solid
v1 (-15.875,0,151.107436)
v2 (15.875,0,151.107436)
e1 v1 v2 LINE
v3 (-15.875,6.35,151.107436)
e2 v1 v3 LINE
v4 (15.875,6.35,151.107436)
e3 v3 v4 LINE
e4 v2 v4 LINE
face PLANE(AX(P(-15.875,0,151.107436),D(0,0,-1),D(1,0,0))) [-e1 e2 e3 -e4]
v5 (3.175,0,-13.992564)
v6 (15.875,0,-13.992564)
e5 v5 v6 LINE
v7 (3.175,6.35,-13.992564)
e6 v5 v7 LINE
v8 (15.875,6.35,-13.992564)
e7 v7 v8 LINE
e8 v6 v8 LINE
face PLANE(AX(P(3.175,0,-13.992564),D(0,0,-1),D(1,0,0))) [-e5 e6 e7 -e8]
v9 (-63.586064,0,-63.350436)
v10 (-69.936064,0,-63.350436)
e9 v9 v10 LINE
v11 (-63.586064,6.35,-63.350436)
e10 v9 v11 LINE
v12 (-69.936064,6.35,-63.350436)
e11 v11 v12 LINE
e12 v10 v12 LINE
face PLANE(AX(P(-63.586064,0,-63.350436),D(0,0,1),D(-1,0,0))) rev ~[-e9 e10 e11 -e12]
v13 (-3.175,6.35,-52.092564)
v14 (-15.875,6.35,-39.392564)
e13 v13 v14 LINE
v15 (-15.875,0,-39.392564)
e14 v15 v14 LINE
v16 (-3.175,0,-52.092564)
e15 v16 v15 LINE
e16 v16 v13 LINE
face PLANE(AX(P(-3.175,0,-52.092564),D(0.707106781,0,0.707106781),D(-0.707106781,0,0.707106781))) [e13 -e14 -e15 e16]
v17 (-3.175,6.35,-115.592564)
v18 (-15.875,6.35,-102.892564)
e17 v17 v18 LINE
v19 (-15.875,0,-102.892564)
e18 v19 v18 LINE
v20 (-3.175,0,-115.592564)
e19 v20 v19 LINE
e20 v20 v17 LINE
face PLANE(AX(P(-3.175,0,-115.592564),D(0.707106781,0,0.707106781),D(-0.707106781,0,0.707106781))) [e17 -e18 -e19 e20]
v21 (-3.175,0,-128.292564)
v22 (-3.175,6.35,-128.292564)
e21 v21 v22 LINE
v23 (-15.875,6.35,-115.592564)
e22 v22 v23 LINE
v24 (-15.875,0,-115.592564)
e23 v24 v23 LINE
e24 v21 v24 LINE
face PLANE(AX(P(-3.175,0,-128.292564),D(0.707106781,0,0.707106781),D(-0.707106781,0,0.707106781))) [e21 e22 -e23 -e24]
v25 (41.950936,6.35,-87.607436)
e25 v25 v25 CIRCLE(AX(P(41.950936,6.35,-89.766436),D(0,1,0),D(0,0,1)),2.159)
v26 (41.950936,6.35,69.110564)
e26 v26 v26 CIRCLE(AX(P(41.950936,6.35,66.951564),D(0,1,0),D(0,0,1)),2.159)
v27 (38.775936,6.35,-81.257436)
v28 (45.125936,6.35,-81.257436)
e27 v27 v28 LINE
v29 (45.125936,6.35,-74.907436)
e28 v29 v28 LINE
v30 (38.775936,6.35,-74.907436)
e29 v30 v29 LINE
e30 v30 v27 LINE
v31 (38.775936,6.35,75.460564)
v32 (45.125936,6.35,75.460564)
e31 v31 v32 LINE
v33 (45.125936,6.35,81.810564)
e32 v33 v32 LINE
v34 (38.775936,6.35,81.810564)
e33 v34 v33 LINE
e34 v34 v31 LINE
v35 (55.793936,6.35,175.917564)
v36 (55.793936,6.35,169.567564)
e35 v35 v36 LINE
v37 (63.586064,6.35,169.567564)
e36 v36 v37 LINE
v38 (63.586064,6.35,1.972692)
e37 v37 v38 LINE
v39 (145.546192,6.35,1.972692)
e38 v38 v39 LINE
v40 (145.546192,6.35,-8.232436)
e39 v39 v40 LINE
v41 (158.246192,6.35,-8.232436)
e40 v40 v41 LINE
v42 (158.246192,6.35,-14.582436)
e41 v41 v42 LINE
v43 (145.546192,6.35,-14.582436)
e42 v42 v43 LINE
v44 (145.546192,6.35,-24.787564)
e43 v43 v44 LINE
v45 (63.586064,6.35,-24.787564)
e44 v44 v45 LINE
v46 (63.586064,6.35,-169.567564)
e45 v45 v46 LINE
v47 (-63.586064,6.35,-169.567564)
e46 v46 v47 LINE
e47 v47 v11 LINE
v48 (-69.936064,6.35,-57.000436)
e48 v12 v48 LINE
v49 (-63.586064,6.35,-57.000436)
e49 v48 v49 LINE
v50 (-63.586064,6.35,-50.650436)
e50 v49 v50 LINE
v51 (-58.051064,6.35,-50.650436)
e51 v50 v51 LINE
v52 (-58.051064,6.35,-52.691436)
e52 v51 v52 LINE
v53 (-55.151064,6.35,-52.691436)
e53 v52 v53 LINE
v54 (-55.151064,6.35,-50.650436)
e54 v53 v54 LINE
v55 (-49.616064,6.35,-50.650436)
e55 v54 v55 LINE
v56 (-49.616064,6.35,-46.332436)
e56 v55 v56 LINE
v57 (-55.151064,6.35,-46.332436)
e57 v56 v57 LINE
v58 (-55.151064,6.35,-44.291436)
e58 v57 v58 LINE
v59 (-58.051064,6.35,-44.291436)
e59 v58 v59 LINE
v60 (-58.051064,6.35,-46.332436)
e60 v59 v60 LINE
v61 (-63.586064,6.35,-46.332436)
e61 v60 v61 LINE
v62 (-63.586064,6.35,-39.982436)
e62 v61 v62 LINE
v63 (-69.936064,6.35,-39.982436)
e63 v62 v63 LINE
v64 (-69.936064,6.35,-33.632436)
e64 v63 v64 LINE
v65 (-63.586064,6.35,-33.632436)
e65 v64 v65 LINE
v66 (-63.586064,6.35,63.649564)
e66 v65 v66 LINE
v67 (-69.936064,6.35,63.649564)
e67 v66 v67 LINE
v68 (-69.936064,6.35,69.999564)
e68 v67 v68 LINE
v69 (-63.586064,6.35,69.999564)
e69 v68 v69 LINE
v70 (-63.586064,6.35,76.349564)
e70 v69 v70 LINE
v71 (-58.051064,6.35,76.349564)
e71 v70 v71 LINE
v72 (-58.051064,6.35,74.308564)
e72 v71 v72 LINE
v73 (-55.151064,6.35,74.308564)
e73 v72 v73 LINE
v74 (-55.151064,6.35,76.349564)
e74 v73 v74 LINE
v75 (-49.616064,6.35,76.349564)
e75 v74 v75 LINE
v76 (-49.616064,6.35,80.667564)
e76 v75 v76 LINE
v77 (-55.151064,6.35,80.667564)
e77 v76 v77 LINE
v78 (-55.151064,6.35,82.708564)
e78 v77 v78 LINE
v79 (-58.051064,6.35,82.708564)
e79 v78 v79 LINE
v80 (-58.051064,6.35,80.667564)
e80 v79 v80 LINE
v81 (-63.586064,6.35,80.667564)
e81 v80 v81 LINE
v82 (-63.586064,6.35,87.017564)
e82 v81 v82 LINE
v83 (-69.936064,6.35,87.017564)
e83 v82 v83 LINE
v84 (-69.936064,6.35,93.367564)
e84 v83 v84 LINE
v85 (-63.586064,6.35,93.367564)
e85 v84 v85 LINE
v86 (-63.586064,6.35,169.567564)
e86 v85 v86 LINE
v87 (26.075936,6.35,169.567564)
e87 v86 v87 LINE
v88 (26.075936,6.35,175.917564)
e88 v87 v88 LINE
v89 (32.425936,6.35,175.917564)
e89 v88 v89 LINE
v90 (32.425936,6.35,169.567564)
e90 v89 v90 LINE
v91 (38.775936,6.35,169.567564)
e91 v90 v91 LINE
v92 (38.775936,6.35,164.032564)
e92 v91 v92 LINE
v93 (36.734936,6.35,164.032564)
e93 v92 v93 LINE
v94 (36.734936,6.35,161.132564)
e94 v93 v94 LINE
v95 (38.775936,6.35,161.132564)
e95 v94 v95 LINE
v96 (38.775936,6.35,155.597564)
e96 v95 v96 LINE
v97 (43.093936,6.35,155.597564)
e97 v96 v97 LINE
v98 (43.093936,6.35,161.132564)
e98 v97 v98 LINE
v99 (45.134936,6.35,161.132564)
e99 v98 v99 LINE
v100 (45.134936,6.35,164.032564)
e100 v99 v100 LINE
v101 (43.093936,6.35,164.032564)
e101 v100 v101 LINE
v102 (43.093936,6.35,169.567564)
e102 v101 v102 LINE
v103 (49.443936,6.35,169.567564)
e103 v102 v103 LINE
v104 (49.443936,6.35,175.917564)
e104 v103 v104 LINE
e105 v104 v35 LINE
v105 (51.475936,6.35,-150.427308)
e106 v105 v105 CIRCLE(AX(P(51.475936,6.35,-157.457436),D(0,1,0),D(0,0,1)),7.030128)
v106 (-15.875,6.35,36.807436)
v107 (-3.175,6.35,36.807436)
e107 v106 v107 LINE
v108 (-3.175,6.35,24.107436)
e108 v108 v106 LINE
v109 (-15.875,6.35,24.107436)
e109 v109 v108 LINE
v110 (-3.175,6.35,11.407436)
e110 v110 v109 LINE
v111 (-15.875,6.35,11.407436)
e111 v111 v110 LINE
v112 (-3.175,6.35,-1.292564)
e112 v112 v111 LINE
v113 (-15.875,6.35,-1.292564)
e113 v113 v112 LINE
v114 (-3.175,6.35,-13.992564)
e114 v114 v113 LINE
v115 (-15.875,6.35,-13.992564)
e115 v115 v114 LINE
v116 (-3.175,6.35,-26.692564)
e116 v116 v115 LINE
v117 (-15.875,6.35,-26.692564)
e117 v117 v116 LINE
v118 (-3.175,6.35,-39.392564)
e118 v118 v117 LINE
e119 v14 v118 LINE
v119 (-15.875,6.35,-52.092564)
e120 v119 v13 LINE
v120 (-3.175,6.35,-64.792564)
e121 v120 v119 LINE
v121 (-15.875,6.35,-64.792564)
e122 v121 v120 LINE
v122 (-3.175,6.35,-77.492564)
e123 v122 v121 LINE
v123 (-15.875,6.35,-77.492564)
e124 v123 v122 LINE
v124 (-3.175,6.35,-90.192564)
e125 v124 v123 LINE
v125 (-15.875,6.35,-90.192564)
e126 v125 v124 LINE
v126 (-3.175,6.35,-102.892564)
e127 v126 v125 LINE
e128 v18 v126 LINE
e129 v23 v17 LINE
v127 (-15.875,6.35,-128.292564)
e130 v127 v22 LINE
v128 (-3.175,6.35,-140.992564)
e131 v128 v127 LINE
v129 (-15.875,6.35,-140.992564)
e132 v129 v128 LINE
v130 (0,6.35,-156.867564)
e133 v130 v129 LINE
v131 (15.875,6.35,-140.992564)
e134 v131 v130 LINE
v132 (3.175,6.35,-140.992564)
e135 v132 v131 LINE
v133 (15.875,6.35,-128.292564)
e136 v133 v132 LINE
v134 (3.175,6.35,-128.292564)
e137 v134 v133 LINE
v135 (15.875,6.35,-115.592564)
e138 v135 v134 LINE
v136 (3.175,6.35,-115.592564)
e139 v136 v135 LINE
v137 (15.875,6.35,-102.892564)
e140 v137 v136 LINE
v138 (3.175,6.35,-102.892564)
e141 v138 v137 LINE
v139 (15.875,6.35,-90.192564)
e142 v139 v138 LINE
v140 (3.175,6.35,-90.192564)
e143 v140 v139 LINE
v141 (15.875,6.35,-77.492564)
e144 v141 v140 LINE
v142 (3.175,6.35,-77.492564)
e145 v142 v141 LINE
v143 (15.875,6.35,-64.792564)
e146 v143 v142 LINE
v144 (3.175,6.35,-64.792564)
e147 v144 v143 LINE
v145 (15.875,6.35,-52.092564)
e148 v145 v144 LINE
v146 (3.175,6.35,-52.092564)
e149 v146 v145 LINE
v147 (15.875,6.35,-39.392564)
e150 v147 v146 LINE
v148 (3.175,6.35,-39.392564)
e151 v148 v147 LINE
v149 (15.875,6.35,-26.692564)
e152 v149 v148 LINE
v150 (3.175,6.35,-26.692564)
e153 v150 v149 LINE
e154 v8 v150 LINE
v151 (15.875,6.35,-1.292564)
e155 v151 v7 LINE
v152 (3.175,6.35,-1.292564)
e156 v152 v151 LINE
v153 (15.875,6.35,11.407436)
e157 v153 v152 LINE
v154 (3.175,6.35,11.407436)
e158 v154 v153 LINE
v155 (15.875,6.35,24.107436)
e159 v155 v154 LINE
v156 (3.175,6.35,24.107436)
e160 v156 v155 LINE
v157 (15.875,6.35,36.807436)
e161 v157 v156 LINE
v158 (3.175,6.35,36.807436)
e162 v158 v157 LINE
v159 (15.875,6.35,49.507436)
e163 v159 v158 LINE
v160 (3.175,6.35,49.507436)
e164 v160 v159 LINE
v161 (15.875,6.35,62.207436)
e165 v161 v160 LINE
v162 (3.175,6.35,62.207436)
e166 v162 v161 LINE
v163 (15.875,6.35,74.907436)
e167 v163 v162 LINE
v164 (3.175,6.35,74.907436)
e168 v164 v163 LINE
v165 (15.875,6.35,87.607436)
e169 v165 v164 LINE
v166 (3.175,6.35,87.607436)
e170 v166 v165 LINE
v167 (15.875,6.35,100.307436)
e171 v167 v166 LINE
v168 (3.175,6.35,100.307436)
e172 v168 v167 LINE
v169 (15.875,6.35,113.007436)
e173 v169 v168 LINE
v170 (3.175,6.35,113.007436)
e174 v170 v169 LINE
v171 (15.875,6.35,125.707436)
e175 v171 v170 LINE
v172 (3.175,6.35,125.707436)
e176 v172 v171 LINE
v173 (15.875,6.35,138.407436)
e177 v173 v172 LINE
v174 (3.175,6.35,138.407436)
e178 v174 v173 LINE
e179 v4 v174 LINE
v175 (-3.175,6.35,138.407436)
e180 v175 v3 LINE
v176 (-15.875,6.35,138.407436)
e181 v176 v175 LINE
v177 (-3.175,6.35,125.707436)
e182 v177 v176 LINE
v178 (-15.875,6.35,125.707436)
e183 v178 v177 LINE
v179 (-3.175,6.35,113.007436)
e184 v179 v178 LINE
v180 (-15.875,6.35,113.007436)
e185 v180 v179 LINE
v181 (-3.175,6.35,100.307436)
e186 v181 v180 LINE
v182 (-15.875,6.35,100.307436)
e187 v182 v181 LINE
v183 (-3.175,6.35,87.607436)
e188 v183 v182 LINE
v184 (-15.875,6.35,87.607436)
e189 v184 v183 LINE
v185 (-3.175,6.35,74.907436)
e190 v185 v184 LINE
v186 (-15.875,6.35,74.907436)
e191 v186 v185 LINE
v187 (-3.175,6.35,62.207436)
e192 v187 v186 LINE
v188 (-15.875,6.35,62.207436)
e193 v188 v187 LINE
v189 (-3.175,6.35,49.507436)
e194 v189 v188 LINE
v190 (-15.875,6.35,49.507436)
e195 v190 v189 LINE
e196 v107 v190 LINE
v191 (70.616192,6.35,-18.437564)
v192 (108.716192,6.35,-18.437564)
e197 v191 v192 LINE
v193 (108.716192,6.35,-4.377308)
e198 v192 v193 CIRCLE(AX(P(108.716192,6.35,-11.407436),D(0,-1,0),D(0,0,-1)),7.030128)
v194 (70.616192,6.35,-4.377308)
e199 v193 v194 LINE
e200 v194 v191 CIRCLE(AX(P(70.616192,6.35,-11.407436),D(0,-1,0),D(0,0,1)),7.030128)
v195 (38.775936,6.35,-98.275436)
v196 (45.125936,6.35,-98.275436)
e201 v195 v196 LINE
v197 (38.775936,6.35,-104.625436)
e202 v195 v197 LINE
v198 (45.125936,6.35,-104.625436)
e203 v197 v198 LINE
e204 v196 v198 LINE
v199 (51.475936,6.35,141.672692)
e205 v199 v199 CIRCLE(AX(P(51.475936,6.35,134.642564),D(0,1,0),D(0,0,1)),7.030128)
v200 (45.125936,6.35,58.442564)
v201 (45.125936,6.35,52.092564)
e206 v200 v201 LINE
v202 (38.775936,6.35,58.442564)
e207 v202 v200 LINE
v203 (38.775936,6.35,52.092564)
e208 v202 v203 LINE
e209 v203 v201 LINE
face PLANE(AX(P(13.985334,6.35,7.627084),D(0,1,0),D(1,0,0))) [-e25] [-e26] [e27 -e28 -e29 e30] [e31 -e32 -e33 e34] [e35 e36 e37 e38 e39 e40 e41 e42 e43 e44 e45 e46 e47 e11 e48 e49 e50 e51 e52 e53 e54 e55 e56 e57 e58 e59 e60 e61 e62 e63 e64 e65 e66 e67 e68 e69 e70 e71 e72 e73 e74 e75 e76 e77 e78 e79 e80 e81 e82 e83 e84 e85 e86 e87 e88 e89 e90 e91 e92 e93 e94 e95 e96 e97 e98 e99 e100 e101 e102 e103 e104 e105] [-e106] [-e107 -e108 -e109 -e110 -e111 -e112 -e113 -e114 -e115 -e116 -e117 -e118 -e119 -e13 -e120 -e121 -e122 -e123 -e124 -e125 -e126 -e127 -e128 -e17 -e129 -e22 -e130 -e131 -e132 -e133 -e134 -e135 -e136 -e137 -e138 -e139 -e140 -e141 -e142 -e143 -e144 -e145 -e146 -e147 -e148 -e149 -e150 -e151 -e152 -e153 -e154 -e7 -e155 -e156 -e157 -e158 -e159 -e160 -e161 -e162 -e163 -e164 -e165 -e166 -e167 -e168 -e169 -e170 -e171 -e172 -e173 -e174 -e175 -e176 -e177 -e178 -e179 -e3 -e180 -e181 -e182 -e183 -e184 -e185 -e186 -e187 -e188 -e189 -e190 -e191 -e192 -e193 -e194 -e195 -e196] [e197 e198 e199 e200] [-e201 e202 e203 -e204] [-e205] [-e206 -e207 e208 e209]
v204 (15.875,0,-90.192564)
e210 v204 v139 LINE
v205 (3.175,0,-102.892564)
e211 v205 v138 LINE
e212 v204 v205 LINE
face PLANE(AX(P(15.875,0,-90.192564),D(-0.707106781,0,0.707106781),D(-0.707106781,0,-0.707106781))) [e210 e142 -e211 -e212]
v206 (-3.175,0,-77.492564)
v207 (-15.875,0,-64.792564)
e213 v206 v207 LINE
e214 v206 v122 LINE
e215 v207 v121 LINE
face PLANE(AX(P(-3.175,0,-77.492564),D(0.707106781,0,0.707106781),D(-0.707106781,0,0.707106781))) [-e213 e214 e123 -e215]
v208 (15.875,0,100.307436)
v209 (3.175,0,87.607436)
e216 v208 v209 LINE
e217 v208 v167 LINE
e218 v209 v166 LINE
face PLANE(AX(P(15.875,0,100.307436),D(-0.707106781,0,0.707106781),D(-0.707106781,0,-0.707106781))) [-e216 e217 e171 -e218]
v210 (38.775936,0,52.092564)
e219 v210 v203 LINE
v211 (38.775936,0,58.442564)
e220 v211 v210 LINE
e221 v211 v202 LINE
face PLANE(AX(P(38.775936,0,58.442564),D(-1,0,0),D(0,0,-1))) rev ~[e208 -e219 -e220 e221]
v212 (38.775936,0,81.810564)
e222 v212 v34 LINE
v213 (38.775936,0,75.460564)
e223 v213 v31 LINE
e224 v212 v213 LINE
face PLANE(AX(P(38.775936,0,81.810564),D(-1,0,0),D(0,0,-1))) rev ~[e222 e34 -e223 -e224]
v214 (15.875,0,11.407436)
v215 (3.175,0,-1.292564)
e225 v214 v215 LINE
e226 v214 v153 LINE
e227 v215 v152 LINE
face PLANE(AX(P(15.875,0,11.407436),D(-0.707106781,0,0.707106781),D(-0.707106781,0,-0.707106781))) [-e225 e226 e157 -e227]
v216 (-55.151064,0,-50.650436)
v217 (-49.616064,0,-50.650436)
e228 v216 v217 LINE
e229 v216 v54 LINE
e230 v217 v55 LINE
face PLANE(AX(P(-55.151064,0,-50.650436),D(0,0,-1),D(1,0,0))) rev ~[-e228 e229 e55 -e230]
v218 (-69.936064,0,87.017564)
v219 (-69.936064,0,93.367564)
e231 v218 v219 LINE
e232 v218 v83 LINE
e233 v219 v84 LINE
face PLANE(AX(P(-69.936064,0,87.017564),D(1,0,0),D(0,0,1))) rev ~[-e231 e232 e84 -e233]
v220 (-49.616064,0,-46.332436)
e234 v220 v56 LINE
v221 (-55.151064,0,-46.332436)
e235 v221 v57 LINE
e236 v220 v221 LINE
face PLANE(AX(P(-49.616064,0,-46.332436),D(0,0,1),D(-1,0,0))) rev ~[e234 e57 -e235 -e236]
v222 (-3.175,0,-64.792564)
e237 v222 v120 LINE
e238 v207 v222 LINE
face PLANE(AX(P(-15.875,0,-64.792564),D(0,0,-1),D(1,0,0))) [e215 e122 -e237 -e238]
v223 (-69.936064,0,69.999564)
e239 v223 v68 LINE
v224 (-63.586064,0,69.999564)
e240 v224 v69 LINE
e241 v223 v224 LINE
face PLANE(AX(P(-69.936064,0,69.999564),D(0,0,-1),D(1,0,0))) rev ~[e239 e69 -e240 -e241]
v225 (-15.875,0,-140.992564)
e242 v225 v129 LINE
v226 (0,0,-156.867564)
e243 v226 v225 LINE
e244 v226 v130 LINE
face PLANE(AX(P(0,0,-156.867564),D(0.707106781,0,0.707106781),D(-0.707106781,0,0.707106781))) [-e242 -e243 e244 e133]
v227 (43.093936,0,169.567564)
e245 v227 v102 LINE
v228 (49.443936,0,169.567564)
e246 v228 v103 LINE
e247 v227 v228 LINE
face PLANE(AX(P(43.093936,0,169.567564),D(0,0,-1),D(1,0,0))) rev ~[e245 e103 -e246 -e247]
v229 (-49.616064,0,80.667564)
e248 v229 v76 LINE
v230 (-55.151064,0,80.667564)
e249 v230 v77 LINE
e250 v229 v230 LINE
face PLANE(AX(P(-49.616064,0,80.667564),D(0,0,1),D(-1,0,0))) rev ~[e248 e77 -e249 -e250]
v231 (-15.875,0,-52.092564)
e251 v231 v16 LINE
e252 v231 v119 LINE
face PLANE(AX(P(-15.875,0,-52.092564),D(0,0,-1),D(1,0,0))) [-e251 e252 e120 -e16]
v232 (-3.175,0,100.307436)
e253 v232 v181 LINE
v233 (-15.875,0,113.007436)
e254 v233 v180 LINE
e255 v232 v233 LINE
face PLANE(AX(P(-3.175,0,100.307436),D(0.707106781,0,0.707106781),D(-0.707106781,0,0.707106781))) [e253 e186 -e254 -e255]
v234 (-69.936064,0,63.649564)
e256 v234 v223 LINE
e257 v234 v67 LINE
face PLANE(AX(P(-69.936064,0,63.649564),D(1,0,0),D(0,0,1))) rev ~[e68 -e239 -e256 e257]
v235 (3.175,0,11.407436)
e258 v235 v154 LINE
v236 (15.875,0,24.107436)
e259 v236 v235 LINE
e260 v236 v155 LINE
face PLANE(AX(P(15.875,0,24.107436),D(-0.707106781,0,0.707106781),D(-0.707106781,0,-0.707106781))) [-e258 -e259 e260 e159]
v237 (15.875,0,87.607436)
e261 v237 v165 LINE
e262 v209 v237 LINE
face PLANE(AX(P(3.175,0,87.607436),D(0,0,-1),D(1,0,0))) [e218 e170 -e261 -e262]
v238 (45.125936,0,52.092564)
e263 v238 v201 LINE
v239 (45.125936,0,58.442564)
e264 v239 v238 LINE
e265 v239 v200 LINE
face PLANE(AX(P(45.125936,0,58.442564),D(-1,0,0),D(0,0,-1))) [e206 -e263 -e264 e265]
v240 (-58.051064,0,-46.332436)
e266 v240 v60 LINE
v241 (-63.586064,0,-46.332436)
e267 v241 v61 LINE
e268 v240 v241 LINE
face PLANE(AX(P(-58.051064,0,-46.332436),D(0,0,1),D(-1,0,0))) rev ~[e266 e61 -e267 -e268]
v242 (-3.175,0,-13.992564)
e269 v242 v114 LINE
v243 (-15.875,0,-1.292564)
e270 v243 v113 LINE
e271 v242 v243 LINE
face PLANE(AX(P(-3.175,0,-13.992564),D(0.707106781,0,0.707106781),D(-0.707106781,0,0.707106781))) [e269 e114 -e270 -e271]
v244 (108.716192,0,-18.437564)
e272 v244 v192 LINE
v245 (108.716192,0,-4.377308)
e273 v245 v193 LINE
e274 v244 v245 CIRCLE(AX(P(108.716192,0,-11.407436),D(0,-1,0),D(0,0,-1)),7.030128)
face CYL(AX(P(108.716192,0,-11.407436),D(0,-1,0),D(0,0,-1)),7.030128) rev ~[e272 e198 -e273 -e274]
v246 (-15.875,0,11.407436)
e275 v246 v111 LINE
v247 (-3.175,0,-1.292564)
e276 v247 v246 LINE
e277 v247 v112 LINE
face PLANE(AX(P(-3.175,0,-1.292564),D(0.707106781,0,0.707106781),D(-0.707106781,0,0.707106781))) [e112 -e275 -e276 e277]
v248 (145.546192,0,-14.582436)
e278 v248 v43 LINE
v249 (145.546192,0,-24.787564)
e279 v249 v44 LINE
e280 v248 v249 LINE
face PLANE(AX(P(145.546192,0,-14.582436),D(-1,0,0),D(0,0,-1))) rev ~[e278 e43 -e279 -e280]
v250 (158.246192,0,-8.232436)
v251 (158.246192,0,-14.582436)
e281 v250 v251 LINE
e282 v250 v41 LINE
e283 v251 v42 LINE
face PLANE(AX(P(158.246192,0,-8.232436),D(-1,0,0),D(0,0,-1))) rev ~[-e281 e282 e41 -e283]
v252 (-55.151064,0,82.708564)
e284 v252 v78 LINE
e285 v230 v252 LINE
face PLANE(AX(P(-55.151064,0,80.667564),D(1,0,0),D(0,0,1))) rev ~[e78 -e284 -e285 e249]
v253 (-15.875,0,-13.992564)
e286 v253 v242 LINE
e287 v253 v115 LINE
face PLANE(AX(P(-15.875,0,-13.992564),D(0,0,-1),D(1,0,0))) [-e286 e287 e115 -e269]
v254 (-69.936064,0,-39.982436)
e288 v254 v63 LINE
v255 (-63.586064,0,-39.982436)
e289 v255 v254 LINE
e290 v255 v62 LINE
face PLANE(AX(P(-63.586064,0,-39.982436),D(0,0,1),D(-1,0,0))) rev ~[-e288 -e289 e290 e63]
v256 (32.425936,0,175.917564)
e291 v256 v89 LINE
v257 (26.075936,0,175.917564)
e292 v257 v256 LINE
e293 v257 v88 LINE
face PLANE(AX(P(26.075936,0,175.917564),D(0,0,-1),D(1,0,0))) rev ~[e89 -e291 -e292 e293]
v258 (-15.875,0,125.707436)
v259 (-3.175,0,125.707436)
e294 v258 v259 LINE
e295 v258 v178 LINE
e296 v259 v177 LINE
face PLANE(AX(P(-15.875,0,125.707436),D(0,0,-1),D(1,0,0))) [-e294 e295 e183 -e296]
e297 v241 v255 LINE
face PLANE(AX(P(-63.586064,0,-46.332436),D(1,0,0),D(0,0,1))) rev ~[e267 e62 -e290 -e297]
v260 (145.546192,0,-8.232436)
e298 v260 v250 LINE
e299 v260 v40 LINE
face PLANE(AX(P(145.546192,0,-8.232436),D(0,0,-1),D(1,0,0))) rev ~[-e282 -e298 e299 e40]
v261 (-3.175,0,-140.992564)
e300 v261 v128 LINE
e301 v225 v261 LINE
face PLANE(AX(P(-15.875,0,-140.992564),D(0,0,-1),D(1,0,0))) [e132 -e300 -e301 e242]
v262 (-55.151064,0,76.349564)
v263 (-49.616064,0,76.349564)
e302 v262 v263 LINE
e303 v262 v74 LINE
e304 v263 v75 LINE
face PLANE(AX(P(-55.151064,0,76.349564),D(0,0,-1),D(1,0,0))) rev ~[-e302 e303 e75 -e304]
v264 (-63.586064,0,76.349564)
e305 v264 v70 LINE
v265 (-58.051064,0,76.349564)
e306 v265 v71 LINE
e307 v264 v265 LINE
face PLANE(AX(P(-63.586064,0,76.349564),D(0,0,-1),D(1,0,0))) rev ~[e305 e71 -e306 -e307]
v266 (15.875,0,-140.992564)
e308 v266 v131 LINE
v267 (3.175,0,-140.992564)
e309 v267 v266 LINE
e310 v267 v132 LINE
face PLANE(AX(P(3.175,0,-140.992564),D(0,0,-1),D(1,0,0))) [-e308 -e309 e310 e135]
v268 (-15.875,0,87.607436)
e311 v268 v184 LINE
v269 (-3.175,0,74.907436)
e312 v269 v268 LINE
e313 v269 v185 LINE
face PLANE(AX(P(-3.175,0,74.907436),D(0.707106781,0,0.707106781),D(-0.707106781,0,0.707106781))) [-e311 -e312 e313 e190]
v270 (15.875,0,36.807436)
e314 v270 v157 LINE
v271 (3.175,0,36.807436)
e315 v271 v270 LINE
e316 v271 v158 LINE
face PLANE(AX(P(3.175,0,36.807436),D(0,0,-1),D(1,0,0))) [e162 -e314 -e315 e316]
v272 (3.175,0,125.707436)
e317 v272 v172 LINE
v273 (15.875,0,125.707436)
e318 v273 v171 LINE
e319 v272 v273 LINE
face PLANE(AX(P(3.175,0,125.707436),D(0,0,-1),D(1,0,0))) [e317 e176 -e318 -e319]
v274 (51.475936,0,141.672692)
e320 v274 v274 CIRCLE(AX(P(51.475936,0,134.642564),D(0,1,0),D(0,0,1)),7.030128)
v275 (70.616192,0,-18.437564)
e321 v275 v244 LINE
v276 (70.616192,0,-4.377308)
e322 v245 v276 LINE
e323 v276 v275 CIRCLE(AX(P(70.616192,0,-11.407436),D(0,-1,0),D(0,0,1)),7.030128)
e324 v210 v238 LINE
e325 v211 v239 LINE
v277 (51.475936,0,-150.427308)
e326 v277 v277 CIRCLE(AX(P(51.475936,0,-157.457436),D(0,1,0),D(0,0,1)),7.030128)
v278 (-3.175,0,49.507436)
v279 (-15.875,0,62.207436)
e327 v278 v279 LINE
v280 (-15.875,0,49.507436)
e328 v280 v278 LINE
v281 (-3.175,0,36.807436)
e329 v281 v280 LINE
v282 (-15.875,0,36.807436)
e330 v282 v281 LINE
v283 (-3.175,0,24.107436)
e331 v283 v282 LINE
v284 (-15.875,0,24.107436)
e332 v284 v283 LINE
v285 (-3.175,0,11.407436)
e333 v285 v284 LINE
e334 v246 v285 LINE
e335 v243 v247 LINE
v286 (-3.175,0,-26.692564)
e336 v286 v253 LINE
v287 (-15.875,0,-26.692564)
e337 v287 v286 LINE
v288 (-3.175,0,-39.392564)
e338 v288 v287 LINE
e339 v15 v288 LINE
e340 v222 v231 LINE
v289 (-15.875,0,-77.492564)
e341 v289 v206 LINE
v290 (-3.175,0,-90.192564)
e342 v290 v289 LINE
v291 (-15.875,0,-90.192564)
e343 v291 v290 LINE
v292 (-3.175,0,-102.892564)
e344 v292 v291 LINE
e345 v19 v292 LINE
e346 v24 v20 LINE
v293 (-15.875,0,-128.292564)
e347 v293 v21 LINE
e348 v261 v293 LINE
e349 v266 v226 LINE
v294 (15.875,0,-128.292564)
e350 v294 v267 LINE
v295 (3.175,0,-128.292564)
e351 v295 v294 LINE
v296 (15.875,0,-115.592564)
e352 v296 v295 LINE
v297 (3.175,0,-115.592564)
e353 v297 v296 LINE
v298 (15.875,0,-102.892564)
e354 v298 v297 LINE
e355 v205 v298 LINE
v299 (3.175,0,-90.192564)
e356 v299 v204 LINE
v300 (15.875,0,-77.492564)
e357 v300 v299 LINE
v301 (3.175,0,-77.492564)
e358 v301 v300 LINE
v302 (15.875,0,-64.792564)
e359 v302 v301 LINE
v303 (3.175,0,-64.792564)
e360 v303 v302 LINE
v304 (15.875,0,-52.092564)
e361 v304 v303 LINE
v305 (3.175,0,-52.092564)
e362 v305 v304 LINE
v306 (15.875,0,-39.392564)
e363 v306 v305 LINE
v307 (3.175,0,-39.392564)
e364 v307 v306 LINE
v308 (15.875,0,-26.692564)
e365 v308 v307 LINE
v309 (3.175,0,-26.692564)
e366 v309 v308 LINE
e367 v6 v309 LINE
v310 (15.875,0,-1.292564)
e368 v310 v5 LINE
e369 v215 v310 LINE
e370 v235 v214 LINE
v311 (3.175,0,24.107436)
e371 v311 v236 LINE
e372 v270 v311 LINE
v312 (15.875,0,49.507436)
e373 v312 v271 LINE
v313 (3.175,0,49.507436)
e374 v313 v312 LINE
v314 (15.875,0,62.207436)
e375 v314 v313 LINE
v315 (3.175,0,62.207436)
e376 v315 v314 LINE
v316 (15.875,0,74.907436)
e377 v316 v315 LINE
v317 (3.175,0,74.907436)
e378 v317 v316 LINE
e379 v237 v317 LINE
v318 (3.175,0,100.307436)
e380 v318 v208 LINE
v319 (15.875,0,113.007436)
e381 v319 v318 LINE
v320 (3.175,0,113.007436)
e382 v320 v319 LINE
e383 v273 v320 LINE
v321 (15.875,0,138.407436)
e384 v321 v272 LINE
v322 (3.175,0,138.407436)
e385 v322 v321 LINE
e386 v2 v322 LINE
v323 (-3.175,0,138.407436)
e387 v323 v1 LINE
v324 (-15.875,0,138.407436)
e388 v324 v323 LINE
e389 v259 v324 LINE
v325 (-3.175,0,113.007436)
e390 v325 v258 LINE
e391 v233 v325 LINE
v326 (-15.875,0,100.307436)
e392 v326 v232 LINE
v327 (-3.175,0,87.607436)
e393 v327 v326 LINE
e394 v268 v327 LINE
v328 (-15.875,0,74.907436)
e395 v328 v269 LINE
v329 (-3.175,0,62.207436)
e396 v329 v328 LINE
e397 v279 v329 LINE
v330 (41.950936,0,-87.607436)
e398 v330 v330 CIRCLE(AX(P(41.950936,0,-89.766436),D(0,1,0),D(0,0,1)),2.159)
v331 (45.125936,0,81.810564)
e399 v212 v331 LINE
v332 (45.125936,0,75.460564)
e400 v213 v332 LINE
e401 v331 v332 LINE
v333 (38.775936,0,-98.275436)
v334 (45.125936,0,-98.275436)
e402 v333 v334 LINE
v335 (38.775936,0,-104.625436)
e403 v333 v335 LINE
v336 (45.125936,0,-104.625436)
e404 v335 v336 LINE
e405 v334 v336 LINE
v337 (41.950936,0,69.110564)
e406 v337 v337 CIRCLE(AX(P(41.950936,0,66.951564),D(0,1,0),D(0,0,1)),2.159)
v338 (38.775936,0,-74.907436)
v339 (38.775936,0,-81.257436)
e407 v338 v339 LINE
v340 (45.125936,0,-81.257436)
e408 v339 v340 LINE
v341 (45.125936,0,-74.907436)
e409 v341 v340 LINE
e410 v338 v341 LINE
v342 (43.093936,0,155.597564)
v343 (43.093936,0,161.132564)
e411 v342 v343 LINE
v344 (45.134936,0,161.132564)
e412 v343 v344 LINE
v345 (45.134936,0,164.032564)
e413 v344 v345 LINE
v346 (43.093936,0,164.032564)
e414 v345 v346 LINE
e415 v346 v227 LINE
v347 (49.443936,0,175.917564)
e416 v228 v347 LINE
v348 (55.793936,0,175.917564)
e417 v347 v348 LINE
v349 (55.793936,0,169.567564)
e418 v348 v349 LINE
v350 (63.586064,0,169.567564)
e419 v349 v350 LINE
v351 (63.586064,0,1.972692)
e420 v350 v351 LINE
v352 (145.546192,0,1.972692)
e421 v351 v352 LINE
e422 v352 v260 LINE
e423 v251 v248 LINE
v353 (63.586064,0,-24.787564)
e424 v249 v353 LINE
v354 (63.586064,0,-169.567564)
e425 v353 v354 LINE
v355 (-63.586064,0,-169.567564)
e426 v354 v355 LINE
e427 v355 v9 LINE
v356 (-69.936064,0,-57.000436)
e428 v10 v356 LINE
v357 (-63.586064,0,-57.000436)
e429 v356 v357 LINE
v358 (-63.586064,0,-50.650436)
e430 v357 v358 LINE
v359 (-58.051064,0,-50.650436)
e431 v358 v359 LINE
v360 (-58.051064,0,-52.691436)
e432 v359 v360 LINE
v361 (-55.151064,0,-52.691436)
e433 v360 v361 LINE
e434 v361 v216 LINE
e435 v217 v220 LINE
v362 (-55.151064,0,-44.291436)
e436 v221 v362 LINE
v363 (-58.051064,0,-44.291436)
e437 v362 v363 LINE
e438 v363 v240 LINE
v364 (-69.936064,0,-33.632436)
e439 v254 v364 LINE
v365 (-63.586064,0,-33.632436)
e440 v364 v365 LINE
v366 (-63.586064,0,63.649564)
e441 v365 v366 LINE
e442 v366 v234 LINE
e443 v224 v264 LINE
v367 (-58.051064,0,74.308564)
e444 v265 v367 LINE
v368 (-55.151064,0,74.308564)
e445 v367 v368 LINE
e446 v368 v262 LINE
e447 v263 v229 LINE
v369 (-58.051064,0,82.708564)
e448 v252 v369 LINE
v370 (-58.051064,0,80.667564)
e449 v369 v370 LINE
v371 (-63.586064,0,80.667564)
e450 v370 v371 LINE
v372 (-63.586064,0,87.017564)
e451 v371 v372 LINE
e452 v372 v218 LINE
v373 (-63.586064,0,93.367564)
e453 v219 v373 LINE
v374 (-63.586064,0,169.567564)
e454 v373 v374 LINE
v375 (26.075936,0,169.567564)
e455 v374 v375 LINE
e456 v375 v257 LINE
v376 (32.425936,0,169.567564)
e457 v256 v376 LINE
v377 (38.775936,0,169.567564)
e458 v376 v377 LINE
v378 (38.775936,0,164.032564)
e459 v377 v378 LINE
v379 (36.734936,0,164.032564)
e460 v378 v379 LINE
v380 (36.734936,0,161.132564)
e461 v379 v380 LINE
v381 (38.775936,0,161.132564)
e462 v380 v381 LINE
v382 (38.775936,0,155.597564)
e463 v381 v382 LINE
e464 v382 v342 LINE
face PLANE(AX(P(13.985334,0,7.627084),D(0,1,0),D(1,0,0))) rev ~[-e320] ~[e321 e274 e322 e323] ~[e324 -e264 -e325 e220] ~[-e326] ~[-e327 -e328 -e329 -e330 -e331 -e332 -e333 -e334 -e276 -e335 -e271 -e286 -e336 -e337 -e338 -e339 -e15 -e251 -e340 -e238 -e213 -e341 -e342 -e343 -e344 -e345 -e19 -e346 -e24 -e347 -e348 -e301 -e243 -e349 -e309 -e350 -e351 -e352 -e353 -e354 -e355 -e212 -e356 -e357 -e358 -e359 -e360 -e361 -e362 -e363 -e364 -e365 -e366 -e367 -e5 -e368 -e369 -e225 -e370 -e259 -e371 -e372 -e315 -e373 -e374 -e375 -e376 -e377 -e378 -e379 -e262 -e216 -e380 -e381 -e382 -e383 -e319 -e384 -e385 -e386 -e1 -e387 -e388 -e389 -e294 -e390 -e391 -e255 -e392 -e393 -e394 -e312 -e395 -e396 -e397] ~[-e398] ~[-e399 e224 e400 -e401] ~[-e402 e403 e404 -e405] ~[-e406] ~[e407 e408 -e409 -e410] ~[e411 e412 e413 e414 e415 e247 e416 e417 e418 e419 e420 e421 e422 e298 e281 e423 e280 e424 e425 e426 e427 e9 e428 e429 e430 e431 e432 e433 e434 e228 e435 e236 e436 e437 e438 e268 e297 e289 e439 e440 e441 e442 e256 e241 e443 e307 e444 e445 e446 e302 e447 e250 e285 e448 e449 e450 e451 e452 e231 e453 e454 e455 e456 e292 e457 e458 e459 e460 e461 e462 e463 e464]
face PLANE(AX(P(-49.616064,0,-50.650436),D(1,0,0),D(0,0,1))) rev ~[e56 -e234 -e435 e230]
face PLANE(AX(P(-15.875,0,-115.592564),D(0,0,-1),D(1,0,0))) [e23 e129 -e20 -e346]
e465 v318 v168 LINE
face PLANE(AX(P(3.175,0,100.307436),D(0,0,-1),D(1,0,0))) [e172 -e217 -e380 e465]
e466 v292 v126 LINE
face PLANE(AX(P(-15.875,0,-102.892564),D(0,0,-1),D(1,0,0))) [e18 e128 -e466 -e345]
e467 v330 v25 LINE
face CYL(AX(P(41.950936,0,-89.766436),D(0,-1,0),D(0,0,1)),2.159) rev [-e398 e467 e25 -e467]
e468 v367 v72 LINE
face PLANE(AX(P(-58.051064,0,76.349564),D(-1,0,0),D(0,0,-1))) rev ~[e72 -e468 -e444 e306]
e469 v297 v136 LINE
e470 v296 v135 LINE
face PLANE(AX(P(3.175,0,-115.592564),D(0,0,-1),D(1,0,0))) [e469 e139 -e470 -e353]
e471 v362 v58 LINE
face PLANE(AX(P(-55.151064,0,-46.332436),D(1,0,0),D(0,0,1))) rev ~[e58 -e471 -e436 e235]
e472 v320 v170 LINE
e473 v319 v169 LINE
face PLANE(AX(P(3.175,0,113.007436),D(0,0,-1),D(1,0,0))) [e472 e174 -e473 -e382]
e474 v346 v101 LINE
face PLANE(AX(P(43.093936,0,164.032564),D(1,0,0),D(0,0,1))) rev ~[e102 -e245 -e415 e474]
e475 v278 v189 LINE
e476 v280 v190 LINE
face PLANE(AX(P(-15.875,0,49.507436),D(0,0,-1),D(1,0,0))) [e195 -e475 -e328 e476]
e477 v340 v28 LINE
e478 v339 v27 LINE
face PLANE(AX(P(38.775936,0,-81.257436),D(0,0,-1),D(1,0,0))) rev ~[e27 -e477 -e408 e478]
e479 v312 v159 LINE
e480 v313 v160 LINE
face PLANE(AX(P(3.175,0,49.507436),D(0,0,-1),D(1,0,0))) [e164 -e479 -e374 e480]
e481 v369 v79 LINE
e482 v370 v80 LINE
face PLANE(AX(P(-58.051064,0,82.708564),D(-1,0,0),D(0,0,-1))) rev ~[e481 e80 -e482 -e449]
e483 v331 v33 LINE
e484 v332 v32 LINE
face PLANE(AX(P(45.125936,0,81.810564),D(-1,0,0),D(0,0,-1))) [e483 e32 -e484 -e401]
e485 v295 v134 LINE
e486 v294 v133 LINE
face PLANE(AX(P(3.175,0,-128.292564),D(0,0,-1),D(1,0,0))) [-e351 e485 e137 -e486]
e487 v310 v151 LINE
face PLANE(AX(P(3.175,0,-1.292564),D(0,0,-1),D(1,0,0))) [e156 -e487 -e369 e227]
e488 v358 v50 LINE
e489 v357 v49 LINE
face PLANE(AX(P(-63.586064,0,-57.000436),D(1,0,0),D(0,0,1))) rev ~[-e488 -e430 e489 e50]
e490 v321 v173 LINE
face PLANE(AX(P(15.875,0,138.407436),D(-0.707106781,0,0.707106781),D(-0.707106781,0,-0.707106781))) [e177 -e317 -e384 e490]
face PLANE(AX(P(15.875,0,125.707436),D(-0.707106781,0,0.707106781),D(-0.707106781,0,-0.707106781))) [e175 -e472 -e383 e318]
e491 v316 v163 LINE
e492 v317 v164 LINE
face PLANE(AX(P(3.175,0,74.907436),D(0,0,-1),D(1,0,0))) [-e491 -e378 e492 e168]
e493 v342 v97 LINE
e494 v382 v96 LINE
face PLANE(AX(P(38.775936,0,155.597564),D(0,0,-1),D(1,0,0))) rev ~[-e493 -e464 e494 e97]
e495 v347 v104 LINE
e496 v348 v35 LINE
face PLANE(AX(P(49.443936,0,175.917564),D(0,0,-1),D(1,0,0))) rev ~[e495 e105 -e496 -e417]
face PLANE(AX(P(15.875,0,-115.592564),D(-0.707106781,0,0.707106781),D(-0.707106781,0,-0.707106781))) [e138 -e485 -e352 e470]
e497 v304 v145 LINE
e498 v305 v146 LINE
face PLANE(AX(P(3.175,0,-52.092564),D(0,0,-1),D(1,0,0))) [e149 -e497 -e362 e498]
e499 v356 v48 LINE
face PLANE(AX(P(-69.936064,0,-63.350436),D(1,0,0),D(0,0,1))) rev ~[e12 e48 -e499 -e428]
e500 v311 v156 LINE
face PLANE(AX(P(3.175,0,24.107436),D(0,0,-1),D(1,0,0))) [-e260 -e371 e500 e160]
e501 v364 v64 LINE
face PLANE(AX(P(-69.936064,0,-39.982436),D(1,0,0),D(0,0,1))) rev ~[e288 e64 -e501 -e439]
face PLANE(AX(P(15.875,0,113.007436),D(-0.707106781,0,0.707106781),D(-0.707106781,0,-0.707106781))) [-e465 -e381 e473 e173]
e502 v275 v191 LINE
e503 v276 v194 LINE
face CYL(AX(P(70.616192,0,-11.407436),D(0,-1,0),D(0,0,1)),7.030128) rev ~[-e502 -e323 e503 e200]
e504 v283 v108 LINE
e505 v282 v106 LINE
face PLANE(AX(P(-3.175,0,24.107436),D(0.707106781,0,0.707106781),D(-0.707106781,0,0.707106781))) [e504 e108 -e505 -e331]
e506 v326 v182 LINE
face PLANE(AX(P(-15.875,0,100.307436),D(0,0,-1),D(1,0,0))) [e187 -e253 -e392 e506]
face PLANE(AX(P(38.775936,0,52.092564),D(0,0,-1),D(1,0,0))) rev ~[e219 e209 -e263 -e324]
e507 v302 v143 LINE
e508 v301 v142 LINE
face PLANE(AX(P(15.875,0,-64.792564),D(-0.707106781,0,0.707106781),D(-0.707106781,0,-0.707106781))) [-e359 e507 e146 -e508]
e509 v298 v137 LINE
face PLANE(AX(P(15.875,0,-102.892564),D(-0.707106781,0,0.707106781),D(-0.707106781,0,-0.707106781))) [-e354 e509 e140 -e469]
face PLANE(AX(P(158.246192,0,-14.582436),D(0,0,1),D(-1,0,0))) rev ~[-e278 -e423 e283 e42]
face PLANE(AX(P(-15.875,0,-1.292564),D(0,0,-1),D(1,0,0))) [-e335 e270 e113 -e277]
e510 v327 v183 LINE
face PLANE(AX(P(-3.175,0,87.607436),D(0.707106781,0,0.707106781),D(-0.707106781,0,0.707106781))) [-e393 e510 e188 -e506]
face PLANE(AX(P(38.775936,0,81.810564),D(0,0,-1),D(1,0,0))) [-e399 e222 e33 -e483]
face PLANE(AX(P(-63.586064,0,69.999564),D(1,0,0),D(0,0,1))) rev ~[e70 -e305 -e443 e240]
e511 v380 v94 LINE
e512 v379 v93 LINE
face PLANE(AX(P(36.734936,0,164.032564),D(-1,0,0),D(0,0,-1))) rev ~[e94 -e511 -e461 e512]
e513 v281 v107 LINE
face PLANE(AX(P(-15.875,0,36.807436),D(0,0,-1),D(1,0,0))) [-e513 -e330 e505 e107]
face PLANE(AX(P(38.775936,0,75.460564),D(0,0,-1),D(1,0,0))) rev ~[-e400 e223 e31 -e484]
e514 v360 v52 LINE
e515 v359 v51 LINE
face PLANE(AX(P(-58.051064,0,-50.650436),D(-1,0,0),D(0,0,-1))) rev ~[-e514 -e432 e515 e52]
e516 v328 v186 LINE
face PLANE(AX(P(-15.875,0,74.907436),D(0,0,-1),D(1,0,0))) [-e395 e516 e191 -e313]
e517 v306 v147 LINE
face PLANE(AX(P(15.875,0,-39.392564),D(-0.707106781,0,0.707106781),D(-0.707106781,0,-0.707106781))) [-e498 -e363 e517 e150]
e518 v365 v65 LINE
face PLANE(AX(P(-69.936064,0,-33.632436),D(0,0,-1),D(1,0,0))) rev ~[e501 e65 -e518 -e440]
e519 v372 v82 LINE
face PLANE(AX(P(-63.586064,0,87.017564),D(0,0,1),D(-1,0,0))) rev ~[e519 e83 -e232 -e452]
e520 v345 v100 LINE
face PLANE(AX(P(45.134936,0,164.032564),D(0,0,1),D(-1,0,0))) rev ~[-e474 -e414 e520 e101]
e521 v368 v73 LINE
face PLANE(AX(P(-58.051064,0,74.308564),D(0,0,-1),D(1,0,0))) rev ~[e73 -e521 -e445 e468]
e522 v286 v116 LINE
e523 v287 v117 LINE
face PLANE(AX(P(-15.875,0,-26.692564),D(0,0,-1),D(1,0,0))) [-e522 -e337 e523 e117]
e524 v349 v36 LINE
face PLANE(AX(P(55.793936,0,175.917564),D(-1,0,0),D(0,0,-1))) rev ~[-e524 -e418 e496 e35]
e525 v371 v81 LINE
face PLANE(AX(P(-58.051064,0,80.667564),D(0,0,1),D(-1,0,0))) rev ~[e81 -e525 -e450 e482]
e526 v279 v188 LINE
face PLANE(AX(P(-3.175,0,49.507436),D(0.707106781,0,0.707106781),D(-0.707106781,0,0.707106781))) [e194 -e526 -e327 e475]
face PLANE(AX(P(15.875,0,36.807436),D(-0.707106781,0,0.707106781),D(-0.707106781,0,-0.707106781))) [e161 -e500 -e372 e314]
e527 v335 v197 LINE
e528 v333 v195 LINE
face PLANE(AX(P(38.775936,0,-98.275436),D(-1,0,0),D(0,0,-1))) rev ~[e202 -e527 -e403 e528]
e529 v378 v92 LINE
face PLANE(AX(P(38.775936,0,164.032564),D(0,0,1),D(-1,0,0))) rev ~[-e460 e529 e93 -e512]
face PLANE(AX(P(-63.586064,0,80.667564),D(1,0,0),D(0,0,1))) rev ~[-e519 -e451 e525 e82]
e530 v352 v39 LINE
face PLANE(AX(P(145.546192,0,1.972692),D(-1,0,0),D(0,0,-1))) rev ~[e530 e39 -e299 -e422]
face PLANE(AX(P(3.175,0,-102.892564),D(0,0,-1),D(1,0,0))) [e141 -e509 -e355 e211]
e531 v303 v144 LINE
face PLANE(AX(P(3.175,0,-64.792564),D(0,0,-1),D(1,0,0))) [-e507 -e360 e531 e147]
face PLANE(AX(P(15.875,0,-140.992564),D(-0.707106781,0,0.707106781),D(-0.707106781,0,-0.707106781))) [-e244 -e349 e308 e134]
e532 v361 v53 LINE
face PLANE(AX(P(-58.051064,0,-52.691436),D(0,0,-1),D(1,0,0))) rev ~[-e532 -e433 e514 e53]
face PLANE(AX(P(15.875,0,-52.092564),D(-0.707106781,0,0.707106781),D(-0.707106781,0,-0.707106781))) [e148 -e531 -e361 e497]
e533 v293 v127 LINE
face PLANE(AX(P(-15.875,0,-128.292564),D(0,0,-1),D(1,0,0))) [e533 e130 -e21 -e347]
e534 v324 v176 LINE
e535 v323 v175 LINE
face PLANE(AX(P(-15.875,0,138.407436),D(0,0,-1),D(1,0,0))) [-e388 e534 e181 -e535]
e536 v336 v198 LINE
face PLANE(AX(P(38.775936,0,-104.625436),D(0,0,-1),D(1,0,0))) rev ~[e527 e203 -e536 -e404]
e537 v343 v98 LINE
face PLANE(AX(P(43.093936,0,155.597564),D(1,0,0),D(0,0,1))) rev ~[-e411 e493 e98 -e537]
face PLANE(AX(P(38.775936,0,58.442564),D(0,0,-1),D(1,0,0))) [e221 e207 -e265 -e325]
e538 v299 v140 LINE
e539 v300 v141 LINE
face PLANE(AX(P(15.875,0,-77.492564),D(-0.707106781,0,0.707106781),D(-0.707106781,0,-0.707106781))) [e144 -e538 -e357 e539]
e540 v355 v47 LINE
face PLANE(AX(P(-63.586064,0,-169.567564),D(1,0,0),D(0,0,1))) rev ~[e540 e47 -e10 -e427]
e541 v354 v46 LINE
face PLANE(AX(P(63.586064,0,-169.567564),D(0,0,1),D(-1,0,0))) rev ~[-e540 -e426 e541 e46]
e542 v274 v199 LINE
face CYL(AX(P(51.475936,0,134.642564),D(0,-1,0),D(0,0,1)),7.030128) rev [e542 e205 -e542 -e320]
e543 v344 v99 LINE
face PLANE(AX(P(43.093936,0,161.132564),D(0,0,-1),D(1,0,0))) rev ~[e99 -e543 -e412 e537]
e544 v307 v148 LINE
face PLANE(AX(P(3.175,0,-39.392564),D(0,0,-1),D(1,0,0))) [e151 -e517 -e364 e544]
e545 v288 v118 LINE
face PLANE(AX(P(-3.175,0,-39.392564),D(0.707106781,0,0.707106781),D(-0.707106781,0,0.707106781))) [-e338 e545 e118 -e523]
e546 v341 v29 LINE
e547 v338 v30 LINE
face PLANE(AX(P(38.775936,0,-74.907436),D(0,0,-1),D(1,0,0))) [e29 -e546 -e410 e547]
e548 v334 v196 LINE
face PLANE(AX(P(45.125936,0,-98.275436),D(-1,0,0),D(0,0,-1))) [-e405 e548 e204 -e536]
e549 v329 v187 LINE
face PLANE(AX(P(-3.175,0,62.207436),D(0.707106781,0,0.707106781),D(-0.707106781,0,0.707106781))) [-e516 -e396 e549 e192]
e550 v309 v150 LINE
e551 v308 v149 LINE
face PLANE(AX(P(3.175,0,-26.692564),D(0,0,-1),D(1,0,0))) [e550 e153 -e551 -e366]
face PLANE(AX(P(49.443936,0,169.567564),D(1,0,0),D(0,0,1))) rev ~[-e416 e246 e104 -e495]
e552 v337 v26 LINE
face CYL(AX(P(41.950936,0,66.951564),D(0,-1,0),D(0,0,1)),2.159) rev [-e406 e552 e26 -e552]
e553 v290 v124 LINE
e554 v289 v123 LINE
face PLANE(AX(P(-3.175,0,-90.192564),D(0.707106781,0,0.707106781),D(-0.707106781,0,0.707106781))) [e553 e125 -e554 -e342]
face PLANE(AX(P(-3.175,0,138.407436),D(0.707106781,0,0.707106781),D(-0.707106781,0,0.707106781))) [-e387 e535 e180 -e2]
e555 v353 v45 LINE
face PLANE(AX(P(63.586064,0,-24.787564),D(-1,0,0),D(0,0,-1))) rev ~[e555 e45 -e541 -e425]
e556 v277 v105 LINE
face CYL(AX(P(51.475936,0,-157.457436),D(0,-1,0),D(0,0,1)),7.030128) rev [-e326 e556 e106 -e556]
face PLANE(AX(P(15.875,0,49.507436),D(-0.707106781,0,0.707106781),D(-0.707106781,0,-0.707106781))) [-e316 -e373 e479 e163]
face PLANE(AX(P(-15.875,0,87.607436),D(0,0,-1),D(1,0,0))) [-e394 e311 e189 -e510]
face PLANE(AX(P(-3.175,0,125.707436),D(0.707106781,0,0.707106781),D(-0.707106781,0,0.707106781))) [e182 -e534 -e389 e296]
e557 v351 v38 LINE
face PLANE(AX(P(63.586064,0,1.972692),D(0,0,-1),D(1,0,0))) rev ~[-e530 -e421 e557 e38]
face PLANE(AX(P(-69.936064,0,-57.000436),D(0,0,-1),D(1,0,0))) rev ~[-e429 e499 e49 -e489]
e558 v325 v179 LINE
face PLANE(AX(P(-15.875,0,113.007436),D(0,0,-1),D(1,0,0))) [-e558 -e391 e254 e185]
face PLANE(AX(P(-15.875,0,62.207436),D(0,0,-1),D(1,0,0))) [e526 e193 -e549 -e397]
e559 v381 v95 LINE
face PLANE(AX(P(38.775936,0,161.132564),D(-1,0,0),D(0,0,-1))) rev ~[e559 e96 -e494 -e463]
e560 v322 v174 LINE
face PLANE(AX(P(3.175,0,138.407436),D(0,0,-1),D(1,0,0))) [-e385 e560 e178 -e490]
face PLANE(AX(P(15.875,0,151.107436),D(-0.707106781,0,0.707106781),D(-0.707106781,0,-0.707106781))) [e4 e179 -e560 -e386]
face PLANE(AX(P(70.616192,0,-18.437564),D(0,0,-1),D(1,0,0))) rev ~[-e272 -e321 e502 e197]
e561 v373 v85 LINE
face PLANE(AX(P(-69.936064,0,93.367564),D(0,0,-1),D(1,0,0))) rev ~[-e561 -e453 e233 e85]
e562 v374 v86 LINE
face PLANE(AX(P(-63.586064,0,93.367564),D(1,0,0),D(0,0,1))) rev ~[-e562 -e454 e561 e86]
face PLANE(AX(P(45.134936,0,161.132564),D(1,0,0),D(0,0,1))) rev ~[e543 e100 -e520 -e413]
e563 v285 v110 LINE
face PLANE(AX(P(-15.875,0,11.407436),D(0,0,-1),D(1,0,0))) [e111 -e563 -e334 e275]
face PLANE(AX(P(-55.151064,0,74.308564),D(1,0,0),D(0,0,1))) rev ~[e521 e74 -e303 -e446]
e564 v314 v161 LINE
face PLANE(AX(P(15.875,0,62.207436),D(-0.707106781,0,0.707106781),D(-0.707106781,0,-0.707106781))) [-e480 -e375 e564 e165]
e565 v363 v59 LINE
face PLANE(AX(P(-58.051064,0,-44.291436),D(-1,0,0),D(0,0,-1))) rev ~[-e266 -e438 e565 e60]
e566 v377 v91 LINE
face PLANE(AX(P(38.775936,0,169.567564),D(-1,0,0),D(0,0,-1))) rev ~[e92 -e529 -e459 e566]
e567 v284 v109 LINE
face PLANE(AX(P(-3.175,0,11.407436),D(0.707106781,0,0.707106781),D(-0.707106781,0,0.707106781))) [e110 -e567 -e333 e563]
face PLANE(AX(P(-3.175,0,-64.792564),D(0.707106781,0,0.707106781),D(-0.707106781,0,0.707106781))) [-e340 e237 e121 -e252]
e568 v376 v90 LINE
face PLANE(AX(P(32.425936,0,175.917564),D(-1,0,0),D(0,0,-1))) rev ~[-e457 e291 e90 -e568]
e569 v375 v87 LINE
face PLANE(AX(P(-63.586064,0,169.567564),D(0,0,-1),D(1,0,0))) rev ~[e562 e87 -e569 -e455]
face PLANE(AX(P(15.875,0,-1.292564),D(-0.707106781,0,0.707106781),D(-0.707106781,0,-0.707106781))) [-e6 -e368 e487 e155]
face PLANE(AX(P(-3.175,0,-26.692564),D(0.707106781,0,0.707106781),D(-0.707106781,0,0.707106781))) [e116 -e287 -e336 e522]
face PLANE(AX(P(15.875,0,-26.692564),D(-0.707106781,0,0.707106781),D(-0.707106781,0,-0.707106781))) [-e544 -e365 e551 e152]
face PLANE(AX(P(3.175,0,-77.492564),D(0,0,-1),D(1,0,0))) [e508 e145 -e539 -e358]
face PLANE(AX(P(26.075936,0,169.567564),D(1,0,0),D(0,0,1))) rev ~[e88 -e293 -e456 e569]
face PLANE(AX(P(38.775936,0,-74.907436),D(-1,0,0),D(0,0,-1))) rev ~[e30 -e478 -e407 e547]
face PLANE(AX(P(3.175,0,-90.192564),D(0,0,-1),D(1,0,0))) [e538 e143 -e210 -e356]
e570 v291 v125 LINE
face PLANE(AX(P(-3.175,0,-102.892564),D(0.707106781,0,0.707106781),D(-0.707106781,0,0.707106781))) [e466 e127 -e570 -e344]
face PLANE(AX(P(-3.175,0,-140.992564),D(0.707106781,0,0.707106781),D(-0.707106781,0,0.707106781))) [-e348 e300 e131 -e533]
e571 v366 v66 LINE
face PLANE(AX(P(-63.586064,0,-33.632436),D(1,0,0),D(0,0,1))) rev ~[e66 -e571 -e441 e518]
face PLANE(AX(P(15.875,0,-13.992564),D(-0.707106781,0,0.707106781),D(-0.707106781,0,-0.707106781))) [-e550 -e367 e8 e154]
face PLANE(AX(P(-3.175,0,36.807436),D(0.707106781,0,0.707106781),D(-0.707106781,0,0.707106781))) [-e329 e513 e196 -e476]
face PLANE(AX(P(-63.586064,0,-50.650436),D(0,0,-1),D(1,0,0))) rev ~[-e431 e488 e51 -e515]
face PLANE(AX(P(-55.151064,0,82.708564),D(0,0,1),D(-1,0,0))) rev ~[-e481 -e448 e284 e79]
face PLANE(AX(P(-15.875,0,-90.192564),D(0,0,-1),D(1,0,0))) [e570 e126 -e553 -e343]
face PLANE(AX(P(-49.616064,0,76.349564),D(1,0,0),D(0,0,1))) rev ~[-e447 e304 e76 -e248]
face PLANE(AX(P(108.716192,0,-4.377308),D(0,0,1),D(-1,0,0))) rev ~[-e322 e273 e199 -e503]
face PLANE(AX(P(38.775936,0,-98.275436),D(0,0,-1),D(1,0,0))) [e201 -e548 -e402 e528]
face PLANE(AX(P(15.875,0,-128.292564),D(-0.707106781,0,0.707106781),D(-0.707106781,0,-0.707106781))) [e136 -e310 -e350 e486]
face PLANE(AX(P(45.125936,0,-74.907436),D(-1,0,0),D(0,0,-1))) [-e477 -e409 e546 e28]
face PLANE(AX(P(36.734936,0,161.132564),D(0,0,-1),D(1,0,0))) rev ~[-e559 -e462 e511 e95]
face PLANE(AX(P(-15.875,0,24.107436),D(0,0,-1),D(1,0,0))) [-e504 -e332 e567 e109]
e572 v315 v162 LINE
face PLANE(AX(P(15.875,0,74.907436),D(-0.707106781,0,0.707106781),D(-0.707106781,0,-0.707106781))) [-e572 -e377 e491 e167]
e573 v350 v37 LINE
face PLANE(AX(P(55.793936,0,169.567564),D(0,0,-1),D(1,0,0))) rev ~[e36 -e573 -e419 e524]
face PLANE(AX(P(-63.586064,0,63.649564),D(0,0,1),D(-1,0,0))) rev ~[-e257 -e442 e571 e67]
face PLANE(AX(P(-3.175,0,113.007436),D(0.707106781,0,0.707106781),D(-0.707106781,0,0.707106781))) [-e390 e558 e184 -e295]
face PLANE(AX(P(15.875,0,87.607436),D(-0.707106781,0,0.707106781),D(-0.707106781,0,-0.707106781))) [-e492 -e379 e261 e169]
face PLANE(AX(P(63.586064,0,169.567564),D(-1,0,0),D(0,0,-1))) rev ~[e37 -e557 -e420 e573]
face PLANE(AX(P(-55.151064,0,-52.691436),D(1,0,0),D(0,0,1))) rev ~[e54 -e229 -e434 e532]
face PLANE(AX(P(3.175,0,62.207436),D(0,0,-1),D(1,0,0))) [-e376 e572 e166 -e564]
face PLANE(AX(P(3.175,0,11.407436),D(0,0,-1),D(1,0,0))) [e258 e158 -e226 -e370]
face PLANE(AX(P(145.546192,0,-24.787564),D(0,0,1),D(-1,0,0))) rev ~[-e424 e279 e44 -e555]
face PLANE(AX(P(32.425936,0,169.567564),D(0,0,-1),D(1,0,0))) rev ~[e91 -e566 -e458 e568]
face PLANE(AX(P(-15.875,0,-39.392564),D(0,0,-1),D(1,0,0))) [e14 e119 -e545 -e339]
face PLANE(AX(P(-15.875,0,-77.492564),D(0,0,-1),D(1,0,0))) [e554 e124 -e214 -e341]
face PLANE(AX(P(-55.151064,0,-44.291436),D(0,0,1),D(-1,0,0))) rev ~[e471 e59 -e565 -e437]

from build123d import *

# Parameters (mm, degrees)
AXLE_SUPPORT_PLATE_R   = 7.030128061
AXLE_SUPPORT_PLATE_R_2 = 2.159
AXLE_SUPPORT_PLATE_W   = 6.35
AXLE_SUPPORT_PLATE_H   = 6.35
BOSS_EXTRUDE1_DEPTH    = 6.35


with BuildPart() as part:
    # Axle Support Plate → Boss-Extrude1 (new body)
    with BuildSketch(Plane(origin=(0, 0, 0), x_dir=(1, 0, 0), z_dir=(0, 1, 0))):
        Polygon((63.58606403, -169.56756403), (63.58606403, -1.972692091), (145.546192091, -1.972692091), (145.546192091, 8.23243597), (158.246192091, 8.23243597), (158.246192091, 14.58243597), (145.546192091, 14.58243597), (145.546192091, 24.78756403), (63.58606403, 24.78756403), (63.58606403, 169.56756403), (-63.58606403, 169.56756403), (-63.58606403, 63.35043597), (-69.93606403, 63.35043597), (-69.93606403, 57.00043597), (-63.58606403, 57.00043597), (-63.58606403, 50.65043597), (-58.051064051, 50.65043597), (-58.051064051, 52.691435952), (-55.151064009, 52.691435952), (-55.151064009, 50.65043597), (-49.61606403, 50.65043597), (-49.61606403, 46.33243597), (-55.151064009, 46.33243597), (-55.151064009, 44.291435988), (-58.051064051, 44.291435988), (-58.051064051, 46.33243597), (-63.58606403, 46.33243597), (-63.58606403, 39.98243597), (-69.93606403, 39.98243597), (-69.93606403, 33.63243597), (-63.58606403, 33.63243597), (-63.58606403, -63.64956403), (-69.93606403, -63.64956403), (-69.93606403, -69.99956403), (-63.58606403, -69.99956403), (-63.58606403, -76.34956403), (-58.051064051, -76.34956403), (-58.051064051, -74.308564048), (-55.151064009, -74.308564048), (-55.151064009, -76.34956403), (-49.61606403, -76.34956403), (-49.61606403, -80.66756403), (-55.151064009, -80.66756403), (-55.151064009, -82.708564012), (-58.051064051, -82.708564012), (-58.051064051, -80.66756403), (-63.58606403, -80.66756403), (-63.58606403, -87.01756403), (-69.93606403, -87.01756403), (-69.93606403, -93.36756403), (-63.58606403, -93.36756403), (-63.58606403, -169.56756403), (26.07593597, -169.56756403), (26.07593597, -175.91756403), (32.42593597, -175.91756403), (32.42593597, -169.56756403), (38.77593597, -169.56756403), (38.77593597, -164.032564051), (36.734935988, -164.032564051), (36.734935988, -161.132564009), (38.77593597, -161.132564009), (38.77593597, -155.59756403), (43.09393597, -155.59756403), (43.09393597, -161.132564009), (45.134935952, -161.132564009), (45.134935952, -164.032564051), (43.09393597, -164.032564051), (43.09393597, -169.56756403), (49.44393597, -169.56756403), (49.44393597, -175.91756403), (55.79393597, -175.91756403), (55.79393597, -169.56756403), align=None)
        with Locations(Location((51.47593597, 157.45743597, 0), (0, 0, 270))):
            Circle(AXLE_SUPPORT_PLATE_R, mode=Mode.SUBTRACT)
        with Locations(Location((51.47593597, -134.64256403, 0), (0, 0, 270))):
            Circle(AXLE_SUPPORT_PLATE_R, mode=Mode.SUBTRACT)
        with Locations(Location((41.95093597, 89.76643597, 0), (0, 0, 270))):
            Circle(AXLE_SUPPORT_PLATE_R_2, mode=Mode.SUBTRACT)
        with Locations(Location((41.95093597, -66.95156403, 0), (0, 0, 270))):
            Circle(AXLE_SUPPORT_PLATE_R_2, mode=Mode.SUBTRACT)
        Polygon((0, 156.86756403), (-15.875, 140.99256403), (-3.175, 140.99256403), (-15.875, 128.29256403), (-3.175, 128.29256403), (-15.875, 115.59256403), (-3.175, 115.59256403), (-15.875, 102.89256403), (-3.175, 102.89256403), (-15.875, 90.19256403), (-3.175, 90.19256403), (-15.875, 77.49256403), (-3.175, 77.49256403), (-15.875, 64.79256403), (-3.175, 64.79256403), (-15.875, 52.09256403), (-3.175, 52.09256403), (-15.875, 39.39256403), (-3.175, 39.39256403), (-15.875, 26.69256403), (-3.175, 26.69256403), (-15.875, 13.99256403), (-3.175, 13.99256403), (-15.875, 1.29256403), (-3.175, 1.29256403), (-15.875, -11.40743597), (-3.175, -11.40743597), (-15.875, -24.10743597), (-3.175, -24.10743597), (-15.875, -36.80743597), (-3.175, -36.80743597), (-15.875, -49.50743597), (-3.175, -49.50743597), (-15.875, -62.20743597), (-3.175, -62.20743597), (-15.875, -74.90743597), (-3.175, -74.90743597), (-15.875, -87.60743597), (-3.175, -87.60743597), (-15.875, -100.30743597), (-3.175, -100.30743597), (-15.875, -113.00743597), (-3.175, -113.00743597), (-15.875, -125.70743597), (-3.175, -125.70743597), (-15.875, -138.40743597), (-3.175, -138.40743597), (-15.875, -151.10743597), (15.875, -151.10743597), (3.175, -138.40743597), (15.875, -138.40743597), (3.175, -125.70743597), (15.875, -125.70743597), (3.175, -113.00743597), (15.875, -113.00743597), (3.175, -100.30743597), (15.875, -100.30743597), (3.175, -87.60743597), (15.875, -87.60743597), (3.175, -74.90743597), (15.875, -74.90743597), (3.175, -62.20743597), (15.875, -62.20743597), (3.175, -49.50743597), (15.875, -49.50743597), (3.175, -36.80743597), (15.875, -36.80743597), (3.175, -24.10743597), (15.875, -24.10743597), (3.175, -11.40743597), (15.875, -11.40743597), (3.175, 1.29256403), (15.875, 1.29256403), (3.175, 13.99256403), (15.875, 13.99256403), (3.175, 26.69256403), (15.875, 26.69256403), (3.175, 39.39256403), (15.875, 39.39256403), (3.175, 52.09256403), (15.875, 52.09256403), (3.175, 64.79256403), (15.875, 64.79256403), (3.175, 77.49256403), (15.875, 77.49256403), (3.175, 90.19256403), (15.875, 90.19256403), (3.175, 102.89256403), (15.875, 102.89256403), (3.175, 115.59256403), (15.875, 115.59256403), (3.175, 128.29256403), (15.875, 128.29256403), (3.175, 140.99256403), (15.875, 140.99256403), align=None, mode=Mode.SUBTRACT)
        with BuildLine():
            Line((70.616192091, 18.43756403), (108.716192091, 18.43756403))
            ThreePointArc((108.716192091, 18.43756403), (115.746320151, 11.40743597), (108.716192091, 4.377307909))
            Line((108.716192091, 4.377307909), (70.616192091, 4.377307909))
            ThreePointArc((70.616192091, 4.377307909), (63.58606403, 11.40743597), (70.616192091, 18.43756403))
        make_face(mode=Mode.SUBTRACT)
        with Locations((41.95093597, 101.45043597)):
            Rectangle(AXLE_SUPPORT_PLATE_W, AXLE_SUPPORT_PLATE_H, mode=Mode.SUBTRACT)
        with Locations((41.95093597, 78.08243597)):
            Rectangle(AXLE_SUPPORT_PLATE_W, AXLE_SUPPORT_PLATE_H, mode=Mode.SUBTRACT)
        with Locations((41.95093597, -78.63556403)):
            Rectangle(AXLE_SUPPORT_PLATE_W, AXLE_SUPPORT_PLATE_H, mode=Mode.SUBTRACT)
        with Locations((41.95093597, -55.26756403)):
            Rectangle(AXLE_SUPPORT_PLATE_W, AXLE_SUPPORT_PLATE_H, mode=Mode.SUBTRACT)
    extrude(amount=BOSS_EXTRUDE1_DEPTH)


solid = part.part
